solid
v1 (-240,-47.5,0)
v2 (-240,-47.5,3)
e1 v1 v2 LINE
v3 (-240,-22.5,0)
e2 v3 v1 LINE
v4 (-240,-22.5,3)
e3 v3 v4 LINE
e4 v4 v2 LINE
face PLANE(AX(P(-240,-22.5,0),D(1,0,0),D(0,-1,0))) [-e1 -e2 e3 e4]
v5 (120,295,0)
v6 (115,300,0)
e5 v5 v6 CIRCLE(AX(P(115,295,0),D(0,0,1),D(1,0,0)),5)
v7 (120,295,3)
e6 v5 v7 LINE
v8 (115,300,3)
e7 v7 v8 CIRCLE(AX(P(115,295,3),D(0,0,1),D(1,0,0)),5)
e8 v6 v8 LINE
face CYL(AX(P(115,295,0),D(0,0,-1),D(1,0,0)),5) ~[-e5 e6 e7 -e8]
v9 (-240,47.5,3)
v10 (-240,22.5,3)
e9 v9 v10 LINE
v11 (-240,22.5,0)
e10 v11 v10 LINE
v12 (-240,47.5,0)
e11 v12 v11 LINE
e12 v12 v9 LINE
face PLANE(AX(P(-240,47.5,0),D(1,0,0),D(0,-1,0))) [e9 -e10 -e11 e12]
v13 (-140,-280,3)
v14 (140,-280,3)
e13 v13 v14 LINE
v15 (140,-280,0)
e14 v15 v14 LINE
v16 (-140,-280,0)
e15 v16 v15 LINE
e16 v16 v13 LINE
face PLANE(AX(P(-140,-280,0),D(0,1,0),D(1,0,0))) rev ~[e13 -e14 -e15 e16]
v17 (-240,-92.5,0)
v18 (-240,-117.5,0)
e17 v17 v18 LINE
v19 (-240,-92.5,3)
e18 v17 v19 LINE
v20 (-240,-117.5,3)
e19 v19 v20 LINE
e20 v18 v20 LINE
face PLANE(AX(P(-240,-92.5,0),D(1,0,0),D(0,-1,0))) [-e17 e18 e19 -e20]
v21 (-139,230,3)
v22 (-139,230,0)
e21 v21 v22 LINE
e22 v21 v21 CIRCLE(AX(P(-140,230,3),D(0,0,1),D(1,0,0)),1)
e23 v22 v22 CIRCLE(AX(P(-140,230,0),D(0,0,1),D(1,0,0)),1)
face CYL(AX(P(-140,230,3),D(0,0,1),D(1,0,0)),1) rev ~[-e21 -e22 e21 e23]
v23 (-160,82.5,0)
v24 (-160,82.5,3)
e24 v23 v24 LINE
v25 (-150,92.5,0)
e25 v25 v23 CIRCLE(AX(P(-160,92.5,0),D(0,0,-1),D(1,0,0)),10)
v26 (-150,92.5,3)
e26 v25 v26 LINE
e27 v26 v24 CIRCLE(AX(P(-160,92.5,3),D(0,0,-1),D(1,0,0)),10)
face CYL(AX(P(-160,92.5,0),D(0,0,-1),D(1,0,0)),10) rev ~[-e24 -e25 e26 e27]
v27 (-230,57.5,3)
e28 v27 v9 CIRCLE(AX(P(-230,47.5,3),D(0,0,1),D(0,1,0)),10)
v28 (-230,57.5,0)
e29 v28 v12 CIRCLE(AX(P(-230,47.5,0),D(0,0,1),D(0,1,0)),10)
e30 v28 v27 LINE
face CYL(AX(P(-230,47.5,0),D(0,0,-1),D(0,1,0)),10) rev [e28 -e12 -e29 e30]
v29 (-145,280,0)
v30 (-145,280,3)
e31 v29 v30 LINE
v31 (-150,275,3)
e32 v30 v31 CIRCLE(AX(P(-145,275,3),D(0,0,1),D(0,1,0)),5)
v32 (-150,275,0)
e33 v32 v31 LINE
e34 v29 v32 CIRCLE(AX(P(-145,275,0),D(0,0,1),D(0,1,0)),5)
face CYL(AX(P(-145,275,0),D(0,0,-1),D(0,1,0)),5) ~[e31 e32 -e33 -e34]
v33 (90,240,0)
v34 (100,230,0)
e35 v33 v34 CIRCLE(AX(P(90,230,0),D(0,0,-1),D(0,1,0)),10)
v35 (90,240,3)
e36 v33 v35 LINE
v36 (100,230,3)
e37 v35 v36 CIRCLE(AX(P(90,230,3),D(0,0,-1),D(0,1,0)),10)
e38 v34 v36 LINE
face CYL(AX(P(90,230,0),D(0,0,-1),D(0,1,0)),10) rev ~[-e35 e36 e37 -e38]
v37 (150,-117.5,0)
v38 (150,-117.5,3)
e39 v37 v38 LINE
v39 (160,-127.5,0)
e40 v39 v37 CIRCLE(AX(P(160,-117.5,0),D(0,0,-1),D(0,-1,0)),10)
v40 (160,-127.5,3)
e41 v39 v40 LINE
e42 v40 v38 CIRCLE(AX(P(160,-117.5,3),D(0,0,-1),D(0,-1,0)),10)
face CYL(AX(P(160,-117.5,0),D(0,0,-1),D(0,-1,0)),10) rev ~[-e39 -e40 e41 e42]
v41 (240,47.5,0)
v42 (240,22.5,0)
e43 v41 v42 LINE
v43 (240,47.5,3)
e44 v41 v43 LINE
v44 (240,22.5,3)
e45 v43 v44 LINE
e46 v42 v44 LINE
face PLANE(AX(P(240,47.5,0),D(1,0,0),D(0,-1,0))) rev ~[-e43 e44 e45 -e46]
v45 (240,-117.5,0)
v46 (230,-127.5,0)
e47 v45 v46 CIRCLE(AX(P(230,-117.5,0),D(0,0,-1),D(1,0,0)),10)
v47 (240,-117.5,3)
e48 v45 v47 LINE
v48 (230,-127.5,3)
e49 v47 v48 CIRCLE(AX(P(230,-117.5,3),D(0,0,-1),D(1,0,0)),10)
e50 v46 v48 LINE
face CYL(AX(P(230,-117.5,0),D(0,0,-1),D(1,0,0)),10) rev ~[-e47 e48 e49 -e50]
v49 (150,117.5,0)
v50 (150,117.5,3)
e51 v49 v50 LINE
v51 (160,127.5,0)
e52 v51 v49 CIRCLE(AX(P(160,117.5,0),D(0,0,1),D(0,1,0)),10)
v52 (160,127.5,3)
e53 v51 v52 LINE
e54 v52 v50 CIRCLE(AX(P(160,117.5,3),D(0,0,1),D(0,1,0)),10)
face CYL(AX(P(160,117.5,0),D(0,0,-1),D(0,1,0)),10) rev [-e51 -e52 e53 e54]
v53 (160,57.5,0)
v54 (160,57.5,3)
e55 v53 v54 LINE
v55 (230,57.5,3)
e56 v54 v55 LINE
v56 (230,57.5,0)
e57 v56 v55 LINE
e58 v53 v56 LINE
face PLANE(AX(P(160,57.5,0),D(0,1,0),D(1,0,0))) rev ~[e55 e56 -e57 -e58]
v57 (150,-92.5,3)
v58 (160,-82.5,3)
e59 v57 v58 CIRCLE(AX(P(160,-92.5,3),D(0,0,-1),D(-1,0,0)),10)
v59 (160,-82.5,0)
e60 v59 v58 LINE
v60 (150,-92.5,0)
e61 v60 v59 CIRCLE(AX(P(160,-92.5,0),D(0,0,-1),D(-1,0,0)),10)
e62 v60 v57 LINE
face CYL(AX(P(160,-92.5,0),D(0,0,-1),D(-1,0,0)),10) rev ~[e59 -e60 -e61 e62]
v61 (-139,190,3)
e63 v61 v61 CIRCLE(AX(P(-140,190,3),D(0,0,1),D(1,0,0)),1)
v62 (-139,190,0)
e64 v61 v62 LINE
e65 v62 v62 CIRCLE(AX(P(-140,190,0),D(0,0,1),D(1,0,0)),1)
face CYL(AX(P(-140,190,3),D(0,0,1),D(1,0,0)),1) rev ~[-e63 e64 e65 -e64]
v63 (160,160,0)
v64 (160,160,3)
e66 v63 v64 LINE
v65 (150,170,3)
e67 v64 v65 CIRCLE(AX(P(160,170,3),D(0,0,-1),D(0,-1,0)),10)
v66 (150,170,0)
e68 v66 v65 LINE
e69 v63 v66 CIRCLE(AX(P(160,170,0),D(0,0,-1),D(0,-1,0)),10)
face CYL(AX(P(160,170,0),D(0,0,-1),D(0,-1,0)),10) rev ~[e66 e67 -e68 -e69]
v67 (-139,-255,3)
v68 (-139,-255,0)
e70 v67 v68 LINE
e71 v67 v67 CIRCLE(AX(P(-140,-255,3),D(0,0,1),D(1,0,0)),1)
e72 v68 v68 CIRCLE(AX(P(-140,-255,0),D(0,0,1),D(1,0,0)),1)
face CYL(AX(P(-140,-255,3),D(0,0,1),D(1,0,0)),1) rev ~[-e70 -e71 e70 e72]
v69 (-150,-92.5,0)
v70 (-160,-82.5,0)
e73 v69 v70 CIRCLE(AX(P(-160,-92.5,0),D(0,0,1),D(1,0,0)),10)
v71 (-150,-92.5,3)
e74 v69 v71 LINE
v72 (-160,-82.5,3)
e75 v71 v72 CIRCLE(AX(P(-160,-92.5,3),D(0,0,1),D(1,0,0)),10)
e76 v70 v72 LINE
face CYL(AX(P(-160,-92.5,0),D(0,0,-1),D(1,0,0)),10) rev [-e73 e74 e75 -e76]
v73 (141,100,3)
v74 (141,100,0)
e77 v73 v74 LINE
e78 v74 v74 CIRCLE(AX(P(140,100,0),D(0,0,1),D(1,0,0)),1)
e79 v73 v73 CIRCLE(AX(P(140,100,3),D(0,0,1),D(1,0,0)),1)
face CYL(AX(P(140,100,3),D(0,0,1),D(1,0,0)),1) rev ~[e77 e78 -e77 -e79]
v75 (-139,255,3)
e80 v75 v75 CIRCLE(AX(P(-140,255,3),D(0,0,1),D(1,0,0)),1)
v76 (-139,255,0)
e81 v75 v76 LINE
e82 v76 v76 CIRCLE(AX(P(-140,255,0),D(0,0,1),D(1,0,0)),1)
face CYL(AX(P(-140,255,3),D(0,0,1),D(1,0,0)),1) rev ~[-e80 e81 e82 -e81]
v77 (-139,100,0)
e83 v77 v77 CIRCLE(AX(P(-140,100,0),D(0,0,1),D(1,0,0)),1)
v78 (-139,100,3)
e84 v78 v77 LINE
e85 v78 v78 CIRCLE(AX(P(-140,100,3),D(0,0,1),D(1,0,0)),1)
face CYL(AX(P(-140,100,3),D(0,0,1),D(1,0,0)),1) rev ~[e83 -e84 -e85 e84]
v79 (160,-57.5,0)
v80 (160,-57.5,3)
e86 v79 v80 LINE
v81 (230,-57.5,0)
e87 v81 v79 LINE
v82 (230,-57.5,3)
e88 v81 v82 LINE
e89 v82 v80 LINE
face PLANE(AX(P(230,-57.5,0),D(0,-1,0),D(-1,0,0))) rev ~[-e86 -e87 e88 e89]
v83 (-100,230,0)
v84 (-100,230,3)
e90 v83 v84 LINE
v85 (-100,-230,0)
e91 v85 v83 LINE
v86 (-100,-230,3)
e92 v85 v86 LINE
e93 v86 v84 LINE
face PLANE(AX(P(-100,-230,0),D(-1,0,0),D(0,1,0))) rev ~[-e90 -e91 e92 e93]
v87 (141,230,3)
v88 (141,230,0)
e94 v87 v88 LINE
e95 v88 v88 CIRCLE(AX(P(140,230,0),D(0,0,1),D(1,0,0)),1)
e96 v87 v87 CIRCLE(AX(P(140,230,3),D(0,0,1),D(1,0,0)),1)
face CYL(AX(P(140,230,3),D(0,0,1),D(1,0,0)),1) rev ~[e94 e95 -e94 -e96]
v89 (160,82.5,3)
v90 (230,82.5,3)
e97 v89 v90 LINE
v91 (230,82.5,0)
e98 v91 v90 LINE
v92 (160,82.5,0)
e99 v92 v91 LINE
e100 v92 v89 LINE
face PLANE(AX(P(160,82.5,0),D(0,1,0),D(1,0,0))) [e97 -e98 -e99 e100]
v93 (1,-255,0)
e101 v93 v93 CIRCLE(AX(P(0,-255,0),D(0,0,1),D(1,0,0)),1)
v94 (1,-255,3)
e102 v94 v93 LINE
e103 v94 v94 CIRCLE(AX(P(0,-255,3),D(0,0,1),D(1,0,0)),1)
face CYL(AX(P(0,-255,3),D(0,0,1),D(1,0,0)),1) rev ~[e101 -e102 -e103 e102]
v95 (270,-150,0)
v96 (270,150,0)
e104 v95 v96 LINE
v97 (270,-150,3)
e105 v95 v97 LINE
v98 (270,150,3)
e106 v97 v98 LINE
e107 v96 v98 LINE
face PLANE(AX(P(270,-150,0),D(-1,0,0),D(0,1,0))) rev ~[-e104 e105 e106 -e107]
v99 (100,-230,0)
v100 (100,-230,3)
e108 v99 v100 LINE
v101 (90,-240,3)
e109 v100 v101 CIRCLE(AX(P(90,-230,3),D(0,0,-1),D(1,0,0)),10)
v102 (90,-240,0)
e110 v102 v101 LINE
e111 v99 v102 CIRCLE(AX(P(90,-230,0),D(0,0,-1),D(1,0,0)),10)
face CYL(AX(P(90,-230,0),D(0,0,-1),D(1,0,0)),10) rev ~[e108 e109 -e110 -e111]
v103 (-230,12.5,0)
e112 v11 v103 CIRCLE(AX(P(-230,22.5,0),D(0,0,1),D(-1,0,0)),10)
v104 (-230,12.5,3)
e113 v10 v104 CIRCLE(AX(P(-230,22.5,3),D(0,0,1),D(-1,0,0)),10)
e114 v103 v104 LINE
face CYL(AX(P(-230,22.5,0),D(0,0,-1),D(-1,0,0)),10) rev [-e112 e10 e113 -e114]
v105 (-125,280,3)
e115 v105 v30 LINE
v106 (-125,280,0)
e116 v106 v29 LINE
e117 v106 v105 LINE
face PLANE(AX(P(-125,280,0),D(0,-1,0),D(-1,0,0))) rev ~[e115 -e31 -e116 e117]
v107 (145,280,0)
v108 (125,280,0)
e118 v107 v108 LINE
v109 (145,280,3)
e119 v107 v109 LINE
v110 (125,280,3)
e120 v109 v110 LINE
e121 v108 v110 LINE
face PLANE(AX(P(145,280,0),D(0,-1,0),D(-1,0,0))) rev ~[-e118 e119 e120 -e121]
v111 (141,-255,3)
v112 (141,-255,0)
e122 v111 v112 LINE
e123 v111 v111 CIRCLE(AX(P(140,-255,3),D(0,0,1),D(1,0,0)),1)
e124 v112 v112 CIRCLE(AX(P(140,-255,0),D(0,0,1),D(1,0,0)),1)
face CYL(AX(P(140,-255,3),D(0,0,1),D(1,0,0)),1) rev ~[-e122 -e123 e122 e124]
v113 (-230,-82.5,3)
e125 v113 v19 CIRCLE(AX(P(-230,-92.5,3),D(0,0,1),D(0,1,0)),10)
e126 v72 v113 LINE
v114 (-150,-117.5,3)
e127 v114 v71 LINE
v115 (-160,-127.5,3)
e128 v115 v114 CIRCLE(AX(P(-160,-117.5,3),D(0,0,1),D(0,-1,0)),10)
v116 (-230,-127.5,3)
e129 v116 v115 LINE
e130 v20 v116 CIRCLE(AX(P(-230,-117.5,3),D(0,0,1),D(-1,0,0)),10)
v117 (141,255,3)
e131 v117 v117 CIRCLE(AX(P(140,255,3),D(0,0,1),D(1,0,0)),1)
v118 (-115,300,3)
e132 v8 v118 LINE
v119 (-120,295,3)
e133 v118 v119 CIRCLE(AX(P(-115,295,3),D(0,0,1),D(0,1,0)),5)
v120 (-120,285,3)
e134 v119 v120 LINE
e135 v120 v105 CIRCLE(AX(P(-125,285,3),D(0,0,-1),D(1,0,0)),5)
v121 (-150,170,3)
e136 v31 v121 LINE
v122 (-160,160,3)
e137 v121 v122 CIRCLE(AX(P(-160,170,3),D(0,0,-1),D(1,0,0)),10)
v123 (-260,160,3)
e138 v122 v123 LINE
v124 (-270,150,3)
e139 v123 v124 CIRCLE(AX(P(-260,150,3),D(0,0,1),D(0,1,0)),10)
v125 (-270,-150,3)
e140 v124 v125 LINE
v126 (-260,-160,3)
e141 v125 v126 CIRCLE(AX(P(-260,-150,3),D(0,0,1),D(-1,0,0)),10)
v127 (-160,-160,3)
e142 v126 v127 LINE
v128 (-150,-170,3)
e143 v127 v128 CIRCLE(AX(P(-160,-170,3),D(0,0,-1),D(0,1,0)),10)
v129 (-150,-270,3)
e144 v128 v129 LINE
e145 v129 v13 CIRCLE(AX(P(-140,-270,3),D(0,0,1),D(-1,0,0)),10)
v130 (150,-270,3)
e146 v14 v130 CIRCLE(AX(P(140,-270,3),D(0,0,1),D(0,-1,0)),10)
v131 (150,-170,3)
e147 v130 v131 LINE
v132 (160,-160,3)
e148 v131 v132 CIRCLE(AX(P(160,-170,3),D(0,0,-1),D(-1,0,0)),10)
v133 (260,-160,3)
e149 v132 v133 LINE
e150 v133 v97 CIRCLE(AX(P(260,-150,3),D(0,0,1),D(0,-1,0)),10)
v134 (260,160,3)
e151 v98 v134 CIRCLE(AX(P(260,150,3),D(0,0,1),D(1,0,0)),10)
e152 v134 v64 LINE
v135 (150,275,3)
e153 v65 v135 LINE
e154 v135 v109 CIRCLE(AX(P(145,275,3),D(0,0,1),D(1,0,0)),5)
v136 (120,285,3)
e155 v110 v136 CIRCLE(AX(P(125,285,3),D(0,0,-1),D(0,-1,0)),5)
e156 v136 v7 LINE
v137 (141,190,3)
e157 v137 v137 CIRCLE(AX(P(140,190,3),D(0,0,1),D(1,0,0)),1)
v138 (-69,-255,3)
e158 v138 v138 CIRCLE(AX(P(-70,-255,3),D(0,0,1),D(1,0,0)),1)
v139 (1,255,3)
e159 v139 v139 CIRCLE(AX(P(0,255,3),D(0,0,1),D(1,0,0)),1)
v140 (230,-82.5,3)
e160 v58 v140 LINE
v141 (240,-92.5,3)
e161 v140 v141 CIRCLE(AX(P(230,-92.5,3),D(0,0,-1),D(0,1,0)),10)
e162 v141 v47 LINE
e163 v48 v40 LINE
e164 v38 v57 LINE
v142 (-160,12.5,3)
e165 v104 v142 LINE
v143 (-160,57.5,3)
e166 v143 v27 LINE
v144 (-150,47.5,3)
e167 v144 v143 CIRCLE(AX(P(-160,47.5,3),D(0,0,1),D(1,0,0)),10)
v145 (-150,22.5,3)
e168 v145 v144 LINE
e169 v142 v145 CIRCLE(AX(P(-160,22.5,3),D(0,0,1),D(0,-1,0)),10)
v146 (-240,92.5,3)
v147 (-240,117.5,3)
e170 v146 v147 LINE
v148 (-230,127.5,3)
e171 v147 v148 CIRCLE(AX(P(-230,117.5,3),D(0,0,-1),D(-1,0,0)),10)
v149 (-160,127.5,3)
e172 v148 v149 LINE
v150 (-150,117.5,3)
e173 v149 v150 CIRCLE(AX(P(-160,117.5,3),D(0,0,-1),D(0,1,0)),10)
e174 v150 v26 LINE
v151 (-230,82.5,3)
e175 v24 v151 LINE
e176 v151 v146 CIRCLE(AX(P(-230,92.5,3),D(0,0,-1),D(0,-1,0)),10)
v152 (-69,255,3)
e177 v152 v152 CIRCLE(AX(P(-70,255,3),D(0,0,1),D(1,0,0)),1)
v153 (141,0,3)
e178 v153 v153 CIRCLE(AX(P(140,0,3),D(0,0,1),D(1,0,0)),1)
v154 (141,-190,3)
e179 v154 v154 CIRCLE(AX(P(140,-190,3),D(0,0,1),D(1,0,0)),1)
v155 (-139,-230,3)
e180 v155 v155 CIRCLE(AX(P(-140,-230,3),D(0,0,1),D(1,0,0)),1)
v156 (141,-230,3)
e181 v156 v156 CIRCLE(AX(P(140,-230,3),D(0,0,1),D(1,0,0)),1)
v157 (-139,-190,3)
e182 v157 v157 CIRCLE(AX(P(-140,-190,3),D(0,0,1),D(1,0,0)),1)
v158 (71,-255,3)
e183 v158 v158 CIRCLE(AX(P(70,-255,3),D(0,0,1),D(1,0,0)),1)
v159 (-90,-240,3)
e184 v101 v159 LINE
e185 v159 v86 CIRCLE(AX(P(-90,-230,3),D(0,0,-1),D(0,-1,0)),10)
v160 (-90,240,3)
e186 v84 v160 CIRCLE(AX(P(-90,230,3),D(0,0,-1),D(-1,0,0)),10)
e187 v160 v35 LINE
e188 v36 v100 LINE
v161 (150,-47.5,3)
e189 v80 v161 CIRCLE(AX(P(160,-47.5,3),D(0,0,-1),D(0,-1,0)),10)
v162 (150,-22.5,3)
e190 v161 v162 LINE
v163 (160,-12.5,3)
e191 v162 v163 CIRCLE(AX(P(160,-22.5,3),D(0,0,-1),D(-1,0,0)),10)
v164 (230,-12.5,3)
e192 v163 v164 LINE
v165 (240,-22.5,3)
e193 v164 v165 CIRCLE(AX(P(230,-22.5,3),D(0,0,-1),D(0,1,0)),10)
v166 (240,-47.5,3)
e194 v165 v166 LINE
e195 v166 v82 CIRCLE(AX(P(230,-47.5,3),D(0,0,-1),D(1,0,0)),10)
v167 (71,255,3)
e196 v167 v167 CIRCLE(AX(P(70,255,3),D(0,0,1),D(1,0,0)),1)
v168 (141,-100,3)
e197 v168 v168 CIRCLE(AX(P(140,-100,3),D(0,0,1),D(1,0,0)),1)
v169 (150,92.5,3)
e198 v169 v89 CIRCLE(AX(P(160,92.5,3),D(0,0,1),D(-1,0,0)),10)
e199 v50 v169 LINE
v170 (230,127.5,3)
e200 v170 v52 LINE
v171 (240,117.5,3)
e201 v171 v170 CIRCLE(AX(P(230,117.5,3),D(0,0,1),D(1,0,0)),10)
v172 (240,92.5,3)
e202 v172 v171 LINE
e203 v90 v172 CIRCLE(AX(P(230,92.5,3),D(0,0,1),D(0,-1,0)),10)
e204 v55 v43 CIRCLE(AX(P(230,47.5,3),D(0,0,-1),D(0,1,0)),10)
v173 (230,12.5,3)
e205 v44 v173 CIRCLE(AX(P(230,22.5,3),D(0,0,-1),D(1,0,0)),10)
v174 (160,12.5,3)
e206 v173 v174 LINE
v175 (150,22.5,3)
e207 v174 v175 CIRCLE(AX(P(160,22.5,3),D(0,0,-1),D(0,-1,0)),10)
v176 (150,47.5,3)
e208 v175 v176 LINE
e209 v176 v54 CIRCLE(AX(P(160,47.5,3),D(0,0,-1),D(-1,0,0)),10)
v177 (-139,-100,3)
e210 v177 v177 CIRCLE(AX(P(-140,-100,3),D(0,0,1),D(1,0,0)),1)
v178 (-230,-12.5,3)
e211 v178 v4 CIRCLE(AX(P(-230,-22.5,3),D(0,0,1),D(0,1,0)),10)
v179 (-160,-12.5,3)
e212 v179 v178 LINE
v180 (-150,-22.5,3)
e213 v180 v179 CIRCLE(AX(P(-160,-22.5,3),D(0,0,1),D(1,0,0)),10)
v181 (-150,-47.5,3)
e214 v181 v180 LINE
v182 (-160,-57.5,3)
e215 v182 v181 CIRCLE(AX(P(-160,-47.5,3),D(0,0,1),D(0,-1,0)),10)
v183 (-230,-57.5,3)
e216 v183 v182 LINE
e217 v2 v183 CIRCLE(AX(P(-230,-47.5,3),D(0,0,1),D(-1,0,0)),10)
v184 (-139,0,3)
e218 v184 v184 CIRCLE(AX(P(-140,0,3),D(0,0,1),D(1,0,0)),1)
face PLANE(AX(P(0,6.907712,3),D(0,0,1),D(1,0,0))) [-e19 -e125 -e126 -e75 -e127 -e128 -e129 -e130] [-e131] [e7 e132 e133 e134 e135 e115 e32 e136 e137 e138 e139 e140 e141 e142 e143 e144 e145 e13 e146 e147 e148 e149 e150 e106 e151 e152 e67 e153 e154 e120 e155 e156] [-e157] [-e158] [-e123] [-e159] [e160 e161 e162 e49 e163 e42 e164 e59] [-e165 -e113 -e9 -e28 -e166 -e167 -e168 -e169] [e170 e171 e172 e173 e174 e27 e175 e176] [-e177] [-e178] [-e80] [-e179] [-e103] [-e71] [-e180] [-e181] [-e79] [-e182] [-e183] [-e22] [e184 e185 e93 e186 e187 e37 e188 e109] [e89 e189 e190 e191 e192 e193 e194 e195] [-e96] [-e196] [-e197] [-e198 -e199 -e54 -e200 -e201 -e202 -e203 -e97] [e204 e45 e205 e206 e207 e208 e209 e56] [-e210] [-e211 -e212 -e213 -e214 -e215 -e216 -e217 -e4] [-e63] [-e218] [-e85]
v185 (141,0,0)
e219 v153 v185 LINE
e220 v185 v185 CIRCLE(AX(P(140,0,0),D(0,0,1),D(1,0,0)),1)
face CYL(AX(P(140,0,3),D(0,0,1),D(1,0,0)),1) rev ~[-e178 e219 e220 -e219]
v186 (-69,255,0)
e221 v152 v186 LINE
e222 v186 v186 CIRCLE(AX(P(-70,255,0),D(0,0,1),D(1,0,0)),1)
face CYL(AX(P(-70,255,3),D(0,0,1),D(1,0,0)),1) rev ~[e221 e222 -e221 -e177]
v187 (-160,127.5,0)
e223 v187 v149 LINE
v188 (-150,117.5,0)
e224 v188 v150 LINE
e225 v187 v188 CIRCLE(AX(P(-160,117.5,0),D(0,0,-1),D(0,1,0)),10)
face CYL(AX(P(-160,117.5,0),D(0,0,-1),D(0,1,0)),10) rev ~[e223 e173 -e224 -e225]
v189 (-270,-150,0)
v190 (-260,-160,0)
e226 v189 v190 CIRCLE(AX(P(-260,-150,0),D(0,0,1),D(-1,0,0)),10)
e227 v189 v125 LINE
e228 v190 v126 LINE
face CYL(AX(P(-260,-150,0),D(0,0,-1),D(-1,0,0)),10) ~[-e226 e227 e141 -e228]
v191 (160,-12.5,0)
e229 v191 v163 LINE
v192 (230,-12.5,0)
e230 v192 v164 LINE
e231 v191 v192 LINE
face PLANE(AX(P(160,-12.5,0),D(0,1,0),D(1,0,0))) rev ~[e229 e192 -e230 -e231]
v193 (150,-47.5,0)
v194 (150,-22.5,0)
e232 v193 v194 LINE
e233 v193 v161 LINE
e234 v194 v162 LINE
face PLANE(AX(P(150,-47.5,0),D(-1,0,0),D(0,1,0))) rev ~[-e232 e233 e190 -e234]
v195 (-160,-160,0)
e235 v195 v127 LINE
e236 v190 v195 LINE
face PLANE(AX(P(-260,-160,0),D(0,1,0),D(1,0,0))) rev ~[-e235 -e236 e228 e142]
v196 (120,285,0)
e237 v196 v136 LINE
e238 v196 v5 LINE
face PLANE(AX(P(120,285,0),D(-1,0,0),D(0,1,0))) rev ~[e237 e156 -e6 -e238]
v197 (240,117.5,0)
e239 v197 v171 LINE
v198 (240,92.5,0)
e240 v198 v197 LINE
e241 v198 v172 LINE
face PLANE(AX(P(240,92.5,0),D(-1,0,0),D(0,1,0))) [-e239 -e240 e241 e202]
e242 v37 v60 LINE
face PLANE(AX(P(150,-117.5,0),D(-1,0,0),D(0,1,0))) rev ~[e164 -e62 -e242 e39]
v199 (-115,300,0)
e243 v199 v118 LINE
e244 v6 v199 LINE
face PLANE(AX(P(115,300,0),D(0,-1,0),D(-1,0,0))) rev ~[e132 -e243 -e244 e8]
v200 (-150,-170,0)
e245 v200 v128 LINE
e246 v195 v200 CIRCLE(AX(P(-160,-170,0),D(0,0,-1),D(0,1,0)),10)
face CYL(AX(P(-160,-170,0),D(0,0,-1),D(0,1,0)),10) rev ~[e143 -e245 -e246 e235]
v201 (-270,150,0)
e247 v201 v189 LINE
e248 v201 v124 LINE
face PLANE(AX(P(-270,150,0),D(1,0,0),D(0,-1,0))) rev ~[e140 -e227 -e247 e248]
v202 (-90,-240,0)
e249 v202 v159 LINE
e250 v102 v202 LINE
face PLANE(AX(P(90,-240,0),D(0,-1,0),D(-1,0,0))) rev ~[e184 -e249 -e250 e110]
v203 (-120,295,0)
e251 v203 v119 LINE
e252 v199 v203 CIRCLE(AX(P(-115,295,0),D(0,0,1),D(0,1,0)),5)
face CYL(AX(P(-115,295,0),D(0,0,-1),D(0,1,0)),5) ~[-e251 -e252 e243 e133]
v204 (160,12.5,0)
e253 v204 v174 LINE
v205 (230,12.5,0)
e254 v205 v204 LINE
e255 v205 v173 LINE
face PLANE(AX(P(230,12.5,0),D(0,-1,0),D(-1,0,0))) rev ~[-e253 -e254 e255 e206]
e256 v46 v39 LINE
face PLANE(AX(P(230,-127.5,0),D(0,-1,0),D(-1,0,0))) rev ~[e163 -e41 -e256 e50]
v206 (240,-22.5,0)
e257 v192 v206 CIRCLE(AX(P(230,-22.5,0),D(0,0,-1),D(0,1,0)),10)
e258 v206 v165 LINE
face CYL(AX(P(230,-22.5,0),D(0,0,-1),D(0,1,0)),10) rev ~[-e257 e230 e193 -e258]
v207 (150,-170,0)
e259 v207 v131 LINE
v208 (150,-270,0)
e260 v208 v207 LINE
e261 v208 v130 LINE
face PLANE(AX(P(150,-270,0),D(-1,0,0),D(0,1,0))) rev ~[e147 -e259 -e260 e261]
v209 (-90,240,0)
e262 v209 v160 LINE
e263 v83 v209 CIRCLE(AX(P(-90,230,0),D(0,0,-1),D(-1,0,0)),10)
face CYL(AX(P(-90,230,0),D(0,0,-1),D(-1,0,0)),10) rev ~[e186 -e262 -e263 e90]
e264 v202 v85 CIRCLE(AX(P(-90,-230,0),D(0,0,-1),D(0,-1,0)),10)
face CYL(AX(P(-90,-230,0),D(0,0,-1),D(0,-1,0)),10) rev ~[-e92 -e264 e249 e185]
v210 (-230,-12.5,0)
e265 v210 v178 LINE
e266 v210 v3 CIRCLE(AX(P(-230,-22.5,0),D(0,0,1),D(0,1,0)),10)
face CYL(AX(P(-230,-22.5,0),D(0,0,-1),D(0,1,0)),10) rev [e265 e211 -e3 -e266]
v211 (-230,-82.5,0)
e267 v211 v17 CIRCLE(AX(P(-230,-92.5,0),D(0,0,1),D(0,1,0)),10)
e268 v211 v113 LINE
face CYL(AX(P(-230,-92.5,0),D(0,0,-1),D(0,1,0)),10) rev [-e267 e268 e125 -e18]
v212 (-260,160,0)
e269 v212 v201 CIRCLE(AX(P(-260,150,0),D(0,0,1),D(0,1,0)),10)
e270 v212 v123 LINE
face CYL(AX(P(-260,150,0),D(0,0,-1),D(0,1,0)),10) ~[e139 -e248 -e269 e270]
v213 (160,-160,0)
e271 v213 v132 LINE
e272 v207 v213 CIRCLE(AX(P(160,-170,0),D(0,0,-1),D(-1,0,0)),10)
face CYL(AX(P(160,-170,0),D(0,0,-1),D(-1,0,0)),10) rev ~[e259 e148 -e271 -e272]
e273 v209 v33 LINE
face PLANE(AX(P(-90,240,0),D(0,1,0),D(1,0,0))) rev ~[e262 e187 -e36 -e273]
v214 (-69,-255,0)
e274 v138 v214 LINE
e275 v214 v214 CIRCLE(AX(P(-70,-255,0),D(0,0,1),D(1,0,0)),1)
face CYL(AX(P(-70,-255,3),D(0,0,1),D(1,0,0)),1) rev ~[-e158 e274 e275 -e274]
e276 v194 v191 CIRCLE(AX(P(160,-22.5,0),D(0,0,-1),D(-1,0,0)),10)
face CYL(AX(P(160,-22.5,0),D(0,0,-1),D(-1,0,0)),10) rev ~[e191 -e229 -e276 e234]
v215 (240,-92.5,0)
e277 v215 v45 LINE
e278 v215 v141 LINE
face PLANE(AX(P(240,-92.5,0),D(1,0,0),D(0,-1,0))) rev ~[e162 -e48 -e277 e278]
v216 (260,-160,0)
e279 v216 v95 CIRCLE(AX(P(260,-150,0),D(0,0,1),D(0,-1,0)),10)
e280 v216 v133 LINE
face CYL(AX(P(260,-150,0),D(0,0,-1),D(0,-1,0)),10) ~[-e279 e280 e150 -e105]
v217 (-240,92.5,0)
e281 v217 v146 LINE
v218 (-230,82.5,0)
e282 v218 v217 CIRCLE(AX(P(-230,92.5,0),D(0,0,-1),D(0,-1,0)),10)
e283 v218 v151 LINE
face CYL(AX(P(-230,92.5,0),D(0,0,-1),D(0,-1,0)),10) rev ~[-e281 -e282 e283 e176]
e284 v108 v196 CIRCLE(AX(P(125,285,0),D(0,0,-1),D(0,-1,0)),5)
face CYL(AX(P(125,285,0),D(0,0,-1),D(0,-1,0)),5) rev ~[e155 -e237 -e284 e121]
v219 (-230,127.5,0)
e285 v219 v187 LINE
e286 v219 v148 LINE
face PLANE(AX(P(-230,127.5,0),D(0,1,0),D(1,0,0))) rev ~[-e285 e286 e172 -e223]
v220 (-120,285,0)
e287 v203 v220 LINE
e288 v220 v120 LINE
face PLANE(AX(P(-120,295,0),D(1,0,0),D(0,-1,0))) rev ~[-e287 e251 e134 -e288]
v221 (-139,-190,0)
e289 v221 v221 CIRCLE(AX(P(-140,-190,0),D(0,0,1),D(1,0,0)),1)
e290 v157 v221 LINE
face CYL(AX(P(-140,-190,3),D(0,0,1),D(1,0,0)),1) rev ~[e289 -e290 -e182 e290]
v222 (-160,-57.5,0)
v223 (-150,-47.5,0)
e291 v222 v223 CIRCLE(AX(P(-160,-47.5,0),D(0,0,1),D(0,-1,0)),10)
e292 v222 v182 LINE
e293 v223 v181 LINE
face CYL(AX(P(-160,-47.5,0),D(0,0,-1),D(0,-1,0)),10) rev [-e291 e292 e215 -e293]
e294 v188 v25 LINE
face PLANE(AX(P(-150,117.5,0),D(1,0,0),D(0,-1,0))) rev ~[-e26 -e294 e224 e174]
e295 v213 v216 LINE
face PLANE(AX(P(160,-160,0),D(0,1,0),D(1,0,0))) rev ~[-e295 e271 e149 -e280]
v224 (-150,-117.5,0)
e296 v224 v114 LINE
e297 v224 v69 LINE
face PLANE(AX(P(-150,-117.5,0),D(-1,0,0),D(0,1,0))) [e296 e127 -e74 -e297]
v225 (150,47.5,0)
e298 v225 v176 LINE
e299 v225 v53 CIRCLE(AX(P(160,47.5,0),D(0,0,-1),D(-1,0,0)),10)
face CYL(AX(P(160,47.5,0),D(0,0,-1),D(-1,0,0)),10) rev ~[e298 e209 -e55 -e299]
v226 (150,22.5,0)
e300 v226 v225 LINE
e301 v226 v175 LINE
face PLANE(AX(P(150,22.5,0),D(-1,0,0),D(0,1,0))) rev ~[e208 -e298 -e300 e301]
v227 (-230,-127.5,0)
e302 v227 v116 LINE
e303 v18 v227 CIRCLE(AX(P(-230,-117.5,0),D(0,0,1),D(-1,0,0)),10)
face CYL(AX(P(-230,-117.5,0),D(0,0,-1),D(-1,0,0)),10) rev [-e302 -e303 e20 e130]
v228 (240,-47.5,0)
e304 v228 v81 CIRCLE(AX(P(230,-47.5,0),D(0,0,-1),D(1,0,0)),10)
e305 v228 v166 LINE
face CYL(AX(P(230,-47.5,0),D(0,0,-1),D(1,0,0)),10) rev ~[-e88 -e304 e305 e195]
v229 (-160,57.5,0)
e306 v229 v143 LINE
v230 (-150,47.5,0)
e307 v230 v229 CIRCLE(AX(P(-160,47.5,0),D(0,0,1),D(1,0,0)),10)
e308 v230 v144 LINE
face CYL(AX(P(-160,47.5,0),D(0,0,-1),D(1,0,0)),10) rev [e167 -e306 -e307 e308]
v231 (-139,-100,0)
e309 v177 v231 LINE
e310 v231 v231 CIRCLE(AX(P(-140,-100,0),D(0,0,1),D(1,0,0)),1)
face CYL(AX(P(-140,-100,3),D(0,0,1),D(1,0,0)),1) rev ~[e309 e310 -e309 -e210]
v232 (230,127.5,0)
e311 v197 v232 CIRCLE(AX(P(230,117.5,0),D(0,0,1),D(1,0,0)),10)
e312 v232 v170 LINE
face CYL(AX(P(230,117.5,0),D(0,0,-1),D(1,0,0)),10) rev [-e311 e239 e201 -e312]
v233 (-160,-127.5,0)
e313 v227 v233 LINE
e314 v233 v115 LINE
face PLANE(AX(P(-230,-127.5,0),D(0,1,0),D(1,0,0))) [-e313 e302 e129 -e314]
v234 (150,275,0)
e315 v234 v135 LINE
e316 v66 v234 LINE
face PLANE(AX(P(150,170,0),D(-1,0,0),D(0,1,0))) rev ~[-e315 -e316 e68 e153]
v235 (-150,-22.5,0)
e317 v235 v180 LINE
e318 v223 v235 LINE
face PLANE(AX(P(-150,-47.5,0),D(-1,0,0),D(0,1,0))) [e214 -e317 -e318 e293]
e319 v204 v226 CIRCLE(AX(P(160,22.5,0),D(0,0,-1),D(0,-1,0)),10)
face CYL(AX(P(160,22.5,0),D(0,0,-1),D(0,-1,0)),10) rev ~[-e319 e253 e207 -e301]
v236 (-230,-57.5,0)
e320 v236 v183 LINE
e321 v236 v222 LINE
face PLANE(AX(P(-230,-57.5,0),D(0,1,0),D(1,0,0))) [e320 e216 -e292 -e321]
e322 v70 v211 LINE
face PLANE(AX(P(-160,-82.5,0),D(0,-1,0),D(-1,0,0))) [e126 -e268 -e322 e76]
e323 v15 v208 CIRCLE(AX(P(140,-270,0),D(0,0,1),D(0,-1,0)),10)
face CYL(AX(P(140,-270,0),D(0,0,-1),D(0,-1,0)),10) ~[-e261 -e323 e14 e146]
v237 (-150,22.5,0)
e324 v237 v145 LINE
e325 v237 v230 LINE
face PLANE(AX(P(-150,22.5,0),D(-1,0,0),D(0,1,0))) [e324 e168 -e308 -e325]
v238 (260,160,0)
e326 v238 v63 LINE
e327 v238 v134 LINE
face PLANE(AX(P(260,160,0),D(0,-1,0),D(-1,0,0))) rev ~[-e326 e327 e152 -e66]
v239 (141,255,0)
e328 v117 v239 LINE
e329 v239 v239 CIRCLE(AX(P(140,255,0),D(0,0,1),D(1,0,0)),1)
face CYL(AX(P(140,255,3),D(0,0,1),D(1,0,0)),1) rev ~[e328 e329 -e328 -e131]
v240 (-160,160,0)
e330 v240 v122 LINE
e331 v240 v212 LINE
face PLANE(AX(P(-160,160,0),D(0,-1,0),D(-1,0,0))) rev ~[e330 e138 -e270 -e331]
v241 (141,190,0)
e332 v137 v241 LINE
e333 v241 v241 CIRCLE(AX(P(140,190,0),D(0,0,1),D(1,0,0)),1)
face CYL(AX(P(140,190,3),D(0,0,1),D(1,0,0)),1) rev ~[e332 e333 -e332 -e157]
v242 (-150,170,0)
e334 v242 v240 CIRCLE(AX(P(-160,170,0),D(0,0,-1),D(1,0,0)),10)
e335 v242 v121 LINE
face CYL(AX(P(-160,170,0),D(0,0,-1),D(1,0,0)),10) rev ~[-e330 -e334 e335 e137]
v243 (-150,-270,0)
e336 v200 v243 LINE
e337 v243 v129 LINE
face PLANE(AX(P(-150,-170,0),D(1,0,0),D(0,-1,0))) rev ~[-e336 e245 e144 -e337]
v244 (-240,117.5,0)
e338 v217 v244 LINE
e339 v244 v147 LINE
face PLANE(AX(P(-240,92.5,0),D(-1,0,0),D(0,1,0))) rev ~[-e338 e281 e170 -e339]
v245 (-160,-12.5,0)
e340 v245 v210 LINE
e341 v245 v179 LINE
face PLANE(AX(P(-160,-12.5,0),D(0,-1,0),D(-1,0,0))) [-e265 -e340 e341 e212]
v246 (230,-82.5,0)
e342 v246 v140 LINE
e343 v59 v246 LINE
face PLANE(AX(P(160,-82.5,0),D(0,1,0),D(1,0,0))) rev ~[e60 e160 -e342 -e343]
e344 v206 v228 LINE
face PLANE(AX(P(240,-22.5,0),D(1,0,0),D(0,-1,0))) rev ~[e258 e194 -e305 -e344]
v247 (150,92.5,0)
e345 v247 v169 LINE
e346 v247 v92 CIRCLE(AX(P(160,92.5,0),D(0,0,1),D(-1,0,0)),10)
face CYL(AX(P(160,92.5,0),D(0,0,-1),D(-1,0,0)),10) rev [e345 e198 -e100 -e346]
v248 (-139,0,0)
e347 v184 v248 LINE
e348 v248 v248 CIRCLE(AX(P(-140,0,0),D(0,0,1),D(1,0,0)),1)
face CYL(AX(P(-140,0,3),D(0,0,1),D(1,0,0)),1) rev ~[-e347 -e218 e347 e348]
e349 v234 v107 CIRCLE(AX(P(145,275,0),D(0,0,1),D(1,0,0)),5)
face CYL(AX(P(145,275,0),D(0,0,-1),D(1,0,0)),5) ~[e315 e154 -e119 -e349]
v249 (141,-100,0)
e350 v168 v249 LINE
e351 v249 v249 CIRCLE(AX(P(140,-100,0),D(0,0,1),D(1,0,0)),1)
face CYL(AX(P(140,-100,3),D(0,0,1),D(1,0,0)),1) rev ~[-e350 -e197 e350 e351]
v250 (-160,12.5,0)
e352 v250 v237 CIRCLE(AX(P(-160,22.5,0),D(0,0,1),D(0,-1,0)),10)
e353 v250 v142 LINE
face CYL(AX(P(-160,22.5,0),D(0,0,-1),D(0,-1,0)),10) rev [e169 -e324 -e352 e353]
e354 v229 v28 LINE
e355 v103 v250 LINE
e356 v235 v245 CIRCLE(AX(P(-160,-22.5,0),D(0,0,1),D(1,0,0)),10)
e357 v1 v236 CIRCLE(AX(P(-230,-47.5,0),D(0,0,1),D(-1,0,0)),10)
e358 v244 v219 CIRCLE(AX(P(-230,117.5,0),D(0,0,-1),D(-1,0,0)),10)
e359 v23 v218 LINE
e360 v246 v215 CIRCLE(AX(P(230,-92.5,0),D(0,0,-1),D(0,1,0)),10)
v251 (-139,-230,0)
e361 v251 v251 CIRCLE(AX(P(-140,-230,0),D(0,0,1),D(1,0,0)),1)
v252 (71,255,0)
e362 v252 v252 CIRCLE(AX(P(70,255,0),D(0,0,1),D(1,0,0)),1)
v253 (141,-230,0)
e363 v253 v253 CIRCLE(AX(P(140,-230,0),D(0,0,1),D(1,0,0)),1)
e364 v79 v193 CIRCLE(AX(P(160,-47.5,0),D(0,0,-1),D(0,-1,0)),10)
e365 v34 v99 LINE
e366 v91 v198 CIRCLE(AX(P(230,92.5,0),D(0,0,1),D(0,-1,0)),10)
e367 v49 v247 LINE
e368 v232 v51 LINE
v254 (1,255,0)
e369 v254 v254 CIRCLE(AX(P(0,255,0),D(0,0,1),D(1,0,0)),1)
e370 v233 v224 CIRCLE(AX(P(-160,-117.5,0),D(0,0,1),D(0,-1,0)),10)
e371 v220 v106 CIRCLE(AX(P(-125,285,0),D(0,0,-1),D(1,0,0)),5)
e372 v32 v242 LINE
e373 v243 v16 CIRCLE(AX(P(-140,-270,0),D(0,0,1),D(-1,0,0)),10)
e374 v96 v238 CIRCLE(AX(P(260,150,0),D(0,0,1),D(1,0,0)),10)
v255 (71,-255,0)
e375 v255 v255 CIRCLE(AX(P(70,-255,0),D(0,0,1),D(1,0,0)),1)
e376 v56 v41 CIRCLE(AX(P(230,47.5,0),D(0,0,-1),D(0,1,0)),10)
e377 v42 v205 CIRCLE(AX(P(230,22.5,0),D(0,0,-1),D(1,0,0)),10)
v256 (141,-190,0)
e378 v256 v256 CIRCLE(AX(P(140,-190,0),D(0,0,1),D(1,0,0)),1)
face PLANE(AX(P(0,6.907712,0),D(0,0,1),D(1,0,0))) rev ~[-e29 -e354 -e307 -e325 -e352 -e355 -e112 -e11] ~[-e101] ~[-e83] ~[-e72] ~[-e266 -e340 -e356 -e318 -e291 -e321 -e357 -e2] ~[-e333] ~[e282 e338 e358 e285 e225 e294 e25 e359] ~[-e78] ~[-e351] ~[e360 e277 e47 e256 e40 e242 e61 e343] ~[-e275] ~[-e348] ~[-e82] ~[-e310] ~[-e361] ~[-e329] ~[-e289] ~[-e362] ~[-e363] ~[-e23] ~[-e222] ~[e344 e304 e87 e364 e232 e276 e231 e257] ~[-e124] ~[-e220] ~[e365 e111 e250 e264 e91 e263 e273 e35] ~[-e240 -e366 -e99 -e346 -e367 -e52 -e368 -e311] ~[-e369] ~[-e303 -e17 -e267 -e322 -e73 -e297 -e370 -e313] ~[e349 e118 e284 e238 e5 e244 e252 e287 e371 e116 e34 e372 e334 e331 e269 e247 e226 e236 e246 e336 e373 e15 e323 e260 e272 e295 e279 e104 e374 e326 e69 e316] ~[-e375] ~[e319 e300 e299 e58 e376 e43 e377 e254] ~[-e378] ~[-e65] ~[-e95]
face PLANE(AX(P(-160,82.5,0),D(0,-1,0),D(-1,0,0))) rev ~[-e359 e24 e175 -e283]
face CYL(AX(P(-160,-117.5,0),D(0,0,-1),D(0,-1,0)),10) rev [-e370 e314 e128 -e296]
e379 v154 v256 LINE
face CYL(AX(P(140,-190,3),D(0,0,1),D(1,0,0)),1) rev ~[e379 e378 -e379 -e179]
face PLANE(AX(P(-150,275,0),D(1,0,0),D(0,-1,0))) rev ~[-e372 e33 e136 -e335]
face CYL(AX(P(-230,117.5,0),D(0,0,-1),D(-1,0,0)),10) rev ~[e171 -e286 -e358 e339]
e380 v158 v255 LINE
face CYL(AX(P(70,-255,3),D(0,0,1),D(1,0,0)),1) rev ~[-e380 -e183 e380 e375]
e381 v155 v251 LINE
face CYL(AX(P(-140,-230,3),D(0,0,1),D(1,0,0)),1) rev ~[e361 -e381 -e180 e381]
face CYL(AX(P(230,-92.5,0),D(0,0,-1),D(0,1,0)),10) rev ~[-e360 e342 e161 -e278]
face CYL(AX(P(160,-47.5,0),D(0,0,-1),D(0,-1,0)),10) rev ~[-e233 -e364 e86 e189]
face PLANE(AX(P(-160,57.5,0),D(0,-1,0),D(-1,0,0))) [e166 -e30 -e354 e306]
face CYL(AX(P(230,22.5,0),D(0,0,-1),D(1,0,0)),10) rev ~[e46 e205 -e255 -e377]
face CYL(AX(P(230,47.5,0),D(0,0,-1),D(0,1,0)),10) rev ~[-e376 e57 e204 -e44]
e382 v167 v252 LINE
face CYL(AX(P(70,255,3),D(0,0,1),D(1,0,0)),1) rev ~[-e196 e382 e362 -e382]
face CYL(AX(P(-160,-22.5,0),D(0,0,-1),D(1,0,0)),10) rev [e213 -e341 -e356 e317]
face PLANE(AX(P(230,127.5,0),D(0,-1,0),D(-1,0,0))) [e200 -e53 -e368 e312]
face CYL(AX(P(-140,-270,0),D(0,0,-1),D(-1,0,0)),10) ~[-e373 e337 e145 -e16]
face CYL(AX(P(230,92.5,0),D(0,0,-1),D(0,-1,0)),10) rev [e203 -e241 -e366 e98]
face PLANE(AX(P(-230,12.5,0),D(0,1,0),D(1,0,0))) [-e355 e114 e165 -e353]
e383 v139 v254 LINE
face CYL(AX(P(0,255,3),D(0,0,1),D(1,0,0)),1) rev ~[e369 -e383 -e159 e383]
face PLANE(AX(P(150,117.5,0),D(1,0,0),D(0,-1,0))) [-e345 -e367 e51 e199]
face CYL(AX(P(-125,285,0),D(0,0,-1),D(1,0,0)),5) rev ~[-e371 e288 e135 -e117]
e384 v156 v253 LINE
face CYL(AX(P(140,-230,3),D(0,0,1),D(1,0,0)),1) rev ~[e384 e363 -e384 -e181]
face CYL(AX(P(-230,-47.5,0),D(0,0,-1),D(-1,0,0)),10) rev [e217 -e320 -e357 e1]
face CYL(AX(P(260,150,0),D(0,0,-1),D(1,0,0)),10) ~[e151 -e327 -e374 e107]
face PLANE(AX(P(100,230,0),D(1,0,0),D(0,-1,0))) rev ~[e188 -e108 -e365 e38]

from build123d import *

# Parameters (mm, degrees)
EXTRUDE_1_DEPTH     = 3
SKETCH_2_R          = 1
CUT_EXTRUDE_1_DEPTH = 3


with BuildPart() as part:
    # 草图1 → 凸台-拉伸1 (new body)
    with BuildSketch(Plane.XY):
        with BuildLine():
            Line((-140, -280), (140, -280))
            ThreePointArc((140, -280), (147.071067812, -277.071067812), (150, -270))
            Line((150, -270), (150, -170))
            ThreePointArc((150, -170), (152.928932188, -162.928932188), (160, -160))
            Line((160, -160), (260, -160))
            ThreePointArc((260, -160), (267.071067812, -157.071067812), (270, -150))
            Line((270, -150), (270, 150))
            ThreePointArc((270, 150), (267.071067812, 157.071067812), (260, 160))
            Line((260, 160), (160, 160))
            ThreePointArc((160, 160), (152.928932188, 162.928932188), (150, 170))
            Line((150, 170), (150, 275))
            ThreePointArc((150, 275), (148.535533906, 278.535533906), (145, 280))
            Line((145, 280), (125, 280))
            ThreePointArc((125, 280), (121.464466094, 281.464466094), (120, 285))
            Line((120, 285), (120, 295))
            ThreePointArc((120, 295), (118.535533906, 298.535533906), (115, 300))
            Line((115, 300), (-115, 300))
            ThreePointArc((-115, 300), (-118.535533906, 298.535533906), (-120, 295))
            Line((-120, 295), (-120, 285))
            ThreePointArc((-120, 285), (-121.464466094, 281.464466094), (-125, 280))
            Line((-125, 280), (-145, 280))
            ThreePointArc((-145, 280), (-148.535533906, 278.535533906), (-150, 275))
            Line((-150, 275), (-150, 170))
            ThreePointArc((-150, 170), (-152.928932188, 162.928932188), (-160, 160))
            Line((-160, 160), (-260, 160))
            ThreePointArc((-260, 160), (-267.071067812, 157.071067812), (-270, 150))
            Line((-270, 150), (-270, -150))
            ThreePointArc((-270, -150), (-267.071067812, -157.071067812), (-260, -160))
            Line((-260, -160), (-160, -160))
            ThreePointArc((-160, -160), (-152.928932188, -162.928932188), (-150, -170))
            Line((-150, -170), (-150, -270))
            ThreePointArc((-150, -270), (-147.071067812, -277.071067812), (-140, -280))
        make_face()
        with BuildLine():
            Line((-90, 240), (90, 240))
            ThreePointArc((90, 240), (97.071067812, 237.071067812), (100, 230))
            Line((100, 230), (100, -230))
            ThreePointArc((100, -230), (97.071067812, -237.071067812), (90, -240))
            Line((90, -240), (-90, -240))
            ThreePointArc((-90, -240), (-97.071067812, -237.071067812), (-100, -230))
            Line((-100, -230), (-100, 230))
            ThreePointArc((-100, 230), (-97.071067812, 237.071067812), (-90, 240))
        make_face(mode=Mode.SUBTRACT)
        with BuildLine():
            Line((-240, 47.5), (-240, 22.5))
            ThreePointArc((-240, 22.5), (-237.071067812, 15.428932188), (-230, 12.5))
            Line((-230, 12.5), (-160, 12.5))
            ThreePointArc((-160, 12.5), (-152.928932188, 15.428932188), (-150, 22.5))
            Line((-150, 22.5), (-150, 47.5))
            ThreePointArc((-150, 47.5), (-152.928932188, 54.571067812), (-160, 57.5))
            Line((-160, 57.5), (-230, 57.5))
            ThreePointArc((-230, 57.5), (-237.071067812, 54.571067812), (-240, 47.5))
        make_face(mode=Mode.SUBTRACT)
        with BuildLine():
            Line((-230, 127.5), (-160, 127.5))
            ThreePointArc((-160, 127.5), (-152.928932188, 124.571067812), (-150, 117.5))
            Line((-150, 117.5), (-150, 92.5))
            ThreePointArc((-150, 92.5), (-152.928932188, 85.428932188), (-160, 82.5))
            Line((-160, 82.5), (-230, 82.5))
            ThreePointArc((-230, 82.5), (-237.071067812, 85.428932188), (-240, 92.5))
            Line((-240, 92.5), (-240, 117.5))
            ThreePointArc((-240, 117.5), (-237.071067812, 124.571067812), (-230, 127.5))
        make_face(mode=Mode.SUBTRACT)
        with BuildLine():
            Line((-240, -22.5), (-240, -47.5))
            ThreePointArc((-240, -47.5), (-237.071067812, -54.571067812), (-230, -57.5))
            Line((-230, -57.5), (-160, -57.5))
            ThreePointArc((-160, -57.5), (-152.928932188, -54.571067812), (-150, -47.5))
            Line((-150, -47.5), (-150, -22.5))
            ThreePointArc((-150, -22.5), (-152.928932188, -15.428932188), (-160, -12.5))
            Line((-160, -12.5), (-230, -12.5))
            ThreePointArc((-230, -12.5), (-237.071067812, -15.428932188), (-240, -22.5))
        make_face(mode=Mode.SUBTRACT)
        with BuildLine():
            Line((-240, -92.5), (-240, -117.5))
            ThreePointArc((-240, -117.5), (-237.071067812, -124.571067812), (-230, -127.5))
            Line((-230, -127.5), (-160, -127.5))
            ThreePointArc((-160, -127.5), (-152.928932188, -124.571067812), (-150, -117.5))
            Line((-150, -117.5), (-150, -92.5))
            ThreePointArc((-150, -92.5), (-152.928932188, -85.428932188), (-160, -82.5))
            Line((-160, -82.5), (-230, -82.5))
            ThreePointArc((-230, -82.5), (-237.071067812, -85.428932188), (-240, -92.5))
        make_face(mode=Mode.SUBTRACT)
        with BuildLine():
            Line((230, -127.5), (160, -127.5))
            ThreePointArc((160, -127.5), (152.928932188, -124.571067812), (150, -117.5))
            Line((150, -117.5), (150, -92.5))
            ThreePointArc((150, -92.5), (152.928932188, -85.428932188), (160, -82.5))
            Line((160, -82.5), (230, -82.5))
            ThreePointArc((230, -82.5), (237.071067812, -85.428932188), (240, -92.5))
            Line((240, -92.5), (240, -117.5))
            ThreePointArc((240, -117.5), (237.071067812, -124.571067812), (230, -127.5))
        make_face(mode=Mode.SUBTRACT)
        with BuildLine():
            Line((230, -57.5), (160, -57.5))
            ThreePointArc((160, -57.5), (152.928932188, -54.571067812), (150, -47.5))
            Line((150, -47.5), (150, -22.5))
            ThreePointArc((150, -22.5), (152.928932188, -15.428932188), (160, -12.5))
            Line((160, -12.5), (230, -12.5))
            ThreePointArc((230, -12.5), (237.071067812, -15.428932188), (240, -22.5))
            Line((240, -22.5), (240, -47.5))
            ThreePointArc((240, -47.5), (237.071067812, -54.571067812), (230, -57.5))
        make_face(mode=Mode.SUBTRACT)
        with BuildLine():
            Line((230, 12.5), (160, 12.5))
            ThreePointArc((160, 12.5), (152.928932188, 15.428932188), (150, 22.5))
            Line((150, 22.5), (150, 47.5))
            ThreePointArc((150, 47.5), (152.928932188, 54.571067812), (160, 57.5))
            Line((160, 57.5), (230, 57.5))
            ThreePointArc((230, 57.5), (237.071067812, 54.571067812), (240, 47.5))
            Line((240, 47.5), (240, 22.5))
            ThreePointArc((240, 22.5), (237.071067812, 15.428932188), (230, 12.5))
        make_face(mode=Mode.SUBTRACT)
        with BuildLine():
            Line((150, 117.5), (150, 92.5))
            ThreePointArc((150, 92.5), (152.928932188, 85.428932188), (160, 82.5))
            Line((160, 82.5), (230, 82.5))
            ThreePointArc((230, 82.5), (237.071067812, 85.428932188), (240, 92.5))
            Line((240, 92.5), (240, 117.5))
            ThreePointArc((240, 117.5), (237.071067812, 124.571067812), (230, 127.5))
            Line((230, 127.5), (160, 127.5))
            ThreePointArc((160, 127.5), (152.928932188, 124.571067812), (150, 117.5))
        make_face(mode=Mode.SUBTRACT)
    extrude(amount=EXTRUDE_1_DEPTH)

    # 草图2 → 切除-拉伸1 (cut)
    with BuildSketch(Plane.XY.offset(3)):
        with Locations((0, 255)):
            Circle(SKETCH_2_R)
        with Locations((70, 255)):
            Circle(SKETCH_2_R)
        with Locations((140, 255)):
            Circle(SKETCH_2_R)
        with Locations((-70, 255)):
            Circle(SKETCH_2_R)
        with Locations((-140, 255)):
            Circle(SKETCH_2_R)
        with Locations((-140, 0)):
            Circle(SKETCH_2_R)
        with Locations((-140, 100)):
            Circle(SKETCH_2_R)
        with Locations((-140, 190)):
            Circle(SKETCH_2_R)
        with Locations((-140, 230)):
            Circle(SKETCH_2_R)
        with Locations((-140, -230)):
            Circle(SKETCH_2_R)
        with Locations((-140, -190)):
            Circle(SKETCH_2_R)
        with Locations((-140, -100)):
            Circle(SKETCH_2_R)
        with Locations((-140, -255)):
            Circle(SKETCH_2_R)
        with Locations((-70, -255)):
            Circle(SKETCH_2_R)
        with Locations((140, -255)):
            Circle(SKETCH_2_R)
        with Locations((70, -255)):
            Circle(SKETCH_2_R)
        with Locations((0, -255)):
            Circle(SKETCH_2_R)
        with Locations((140, -100)):
            Circle(SKETCH_2_R)
        with Locations((140, -190)):
            Circle(SKETCH_2_R)
        with Locations((140, -230)):
            Circle(SKETCH_2_R)
        with Locations((140, 100)):
            Circle(SKETCH_2_R)
        with Locations((140, 0)):
            Circle(SKETCH_2_R)
        with Locations((140, 190)):
            Circle(SKETCH_2_R)
        with Locations((140, 230)):
            Circle(SKETCH_2_R)
    extrude(amount=-CUT_EXTRUDE_1_DEPTH, mode=Mode.SUBTRACT)


solid = part.part
